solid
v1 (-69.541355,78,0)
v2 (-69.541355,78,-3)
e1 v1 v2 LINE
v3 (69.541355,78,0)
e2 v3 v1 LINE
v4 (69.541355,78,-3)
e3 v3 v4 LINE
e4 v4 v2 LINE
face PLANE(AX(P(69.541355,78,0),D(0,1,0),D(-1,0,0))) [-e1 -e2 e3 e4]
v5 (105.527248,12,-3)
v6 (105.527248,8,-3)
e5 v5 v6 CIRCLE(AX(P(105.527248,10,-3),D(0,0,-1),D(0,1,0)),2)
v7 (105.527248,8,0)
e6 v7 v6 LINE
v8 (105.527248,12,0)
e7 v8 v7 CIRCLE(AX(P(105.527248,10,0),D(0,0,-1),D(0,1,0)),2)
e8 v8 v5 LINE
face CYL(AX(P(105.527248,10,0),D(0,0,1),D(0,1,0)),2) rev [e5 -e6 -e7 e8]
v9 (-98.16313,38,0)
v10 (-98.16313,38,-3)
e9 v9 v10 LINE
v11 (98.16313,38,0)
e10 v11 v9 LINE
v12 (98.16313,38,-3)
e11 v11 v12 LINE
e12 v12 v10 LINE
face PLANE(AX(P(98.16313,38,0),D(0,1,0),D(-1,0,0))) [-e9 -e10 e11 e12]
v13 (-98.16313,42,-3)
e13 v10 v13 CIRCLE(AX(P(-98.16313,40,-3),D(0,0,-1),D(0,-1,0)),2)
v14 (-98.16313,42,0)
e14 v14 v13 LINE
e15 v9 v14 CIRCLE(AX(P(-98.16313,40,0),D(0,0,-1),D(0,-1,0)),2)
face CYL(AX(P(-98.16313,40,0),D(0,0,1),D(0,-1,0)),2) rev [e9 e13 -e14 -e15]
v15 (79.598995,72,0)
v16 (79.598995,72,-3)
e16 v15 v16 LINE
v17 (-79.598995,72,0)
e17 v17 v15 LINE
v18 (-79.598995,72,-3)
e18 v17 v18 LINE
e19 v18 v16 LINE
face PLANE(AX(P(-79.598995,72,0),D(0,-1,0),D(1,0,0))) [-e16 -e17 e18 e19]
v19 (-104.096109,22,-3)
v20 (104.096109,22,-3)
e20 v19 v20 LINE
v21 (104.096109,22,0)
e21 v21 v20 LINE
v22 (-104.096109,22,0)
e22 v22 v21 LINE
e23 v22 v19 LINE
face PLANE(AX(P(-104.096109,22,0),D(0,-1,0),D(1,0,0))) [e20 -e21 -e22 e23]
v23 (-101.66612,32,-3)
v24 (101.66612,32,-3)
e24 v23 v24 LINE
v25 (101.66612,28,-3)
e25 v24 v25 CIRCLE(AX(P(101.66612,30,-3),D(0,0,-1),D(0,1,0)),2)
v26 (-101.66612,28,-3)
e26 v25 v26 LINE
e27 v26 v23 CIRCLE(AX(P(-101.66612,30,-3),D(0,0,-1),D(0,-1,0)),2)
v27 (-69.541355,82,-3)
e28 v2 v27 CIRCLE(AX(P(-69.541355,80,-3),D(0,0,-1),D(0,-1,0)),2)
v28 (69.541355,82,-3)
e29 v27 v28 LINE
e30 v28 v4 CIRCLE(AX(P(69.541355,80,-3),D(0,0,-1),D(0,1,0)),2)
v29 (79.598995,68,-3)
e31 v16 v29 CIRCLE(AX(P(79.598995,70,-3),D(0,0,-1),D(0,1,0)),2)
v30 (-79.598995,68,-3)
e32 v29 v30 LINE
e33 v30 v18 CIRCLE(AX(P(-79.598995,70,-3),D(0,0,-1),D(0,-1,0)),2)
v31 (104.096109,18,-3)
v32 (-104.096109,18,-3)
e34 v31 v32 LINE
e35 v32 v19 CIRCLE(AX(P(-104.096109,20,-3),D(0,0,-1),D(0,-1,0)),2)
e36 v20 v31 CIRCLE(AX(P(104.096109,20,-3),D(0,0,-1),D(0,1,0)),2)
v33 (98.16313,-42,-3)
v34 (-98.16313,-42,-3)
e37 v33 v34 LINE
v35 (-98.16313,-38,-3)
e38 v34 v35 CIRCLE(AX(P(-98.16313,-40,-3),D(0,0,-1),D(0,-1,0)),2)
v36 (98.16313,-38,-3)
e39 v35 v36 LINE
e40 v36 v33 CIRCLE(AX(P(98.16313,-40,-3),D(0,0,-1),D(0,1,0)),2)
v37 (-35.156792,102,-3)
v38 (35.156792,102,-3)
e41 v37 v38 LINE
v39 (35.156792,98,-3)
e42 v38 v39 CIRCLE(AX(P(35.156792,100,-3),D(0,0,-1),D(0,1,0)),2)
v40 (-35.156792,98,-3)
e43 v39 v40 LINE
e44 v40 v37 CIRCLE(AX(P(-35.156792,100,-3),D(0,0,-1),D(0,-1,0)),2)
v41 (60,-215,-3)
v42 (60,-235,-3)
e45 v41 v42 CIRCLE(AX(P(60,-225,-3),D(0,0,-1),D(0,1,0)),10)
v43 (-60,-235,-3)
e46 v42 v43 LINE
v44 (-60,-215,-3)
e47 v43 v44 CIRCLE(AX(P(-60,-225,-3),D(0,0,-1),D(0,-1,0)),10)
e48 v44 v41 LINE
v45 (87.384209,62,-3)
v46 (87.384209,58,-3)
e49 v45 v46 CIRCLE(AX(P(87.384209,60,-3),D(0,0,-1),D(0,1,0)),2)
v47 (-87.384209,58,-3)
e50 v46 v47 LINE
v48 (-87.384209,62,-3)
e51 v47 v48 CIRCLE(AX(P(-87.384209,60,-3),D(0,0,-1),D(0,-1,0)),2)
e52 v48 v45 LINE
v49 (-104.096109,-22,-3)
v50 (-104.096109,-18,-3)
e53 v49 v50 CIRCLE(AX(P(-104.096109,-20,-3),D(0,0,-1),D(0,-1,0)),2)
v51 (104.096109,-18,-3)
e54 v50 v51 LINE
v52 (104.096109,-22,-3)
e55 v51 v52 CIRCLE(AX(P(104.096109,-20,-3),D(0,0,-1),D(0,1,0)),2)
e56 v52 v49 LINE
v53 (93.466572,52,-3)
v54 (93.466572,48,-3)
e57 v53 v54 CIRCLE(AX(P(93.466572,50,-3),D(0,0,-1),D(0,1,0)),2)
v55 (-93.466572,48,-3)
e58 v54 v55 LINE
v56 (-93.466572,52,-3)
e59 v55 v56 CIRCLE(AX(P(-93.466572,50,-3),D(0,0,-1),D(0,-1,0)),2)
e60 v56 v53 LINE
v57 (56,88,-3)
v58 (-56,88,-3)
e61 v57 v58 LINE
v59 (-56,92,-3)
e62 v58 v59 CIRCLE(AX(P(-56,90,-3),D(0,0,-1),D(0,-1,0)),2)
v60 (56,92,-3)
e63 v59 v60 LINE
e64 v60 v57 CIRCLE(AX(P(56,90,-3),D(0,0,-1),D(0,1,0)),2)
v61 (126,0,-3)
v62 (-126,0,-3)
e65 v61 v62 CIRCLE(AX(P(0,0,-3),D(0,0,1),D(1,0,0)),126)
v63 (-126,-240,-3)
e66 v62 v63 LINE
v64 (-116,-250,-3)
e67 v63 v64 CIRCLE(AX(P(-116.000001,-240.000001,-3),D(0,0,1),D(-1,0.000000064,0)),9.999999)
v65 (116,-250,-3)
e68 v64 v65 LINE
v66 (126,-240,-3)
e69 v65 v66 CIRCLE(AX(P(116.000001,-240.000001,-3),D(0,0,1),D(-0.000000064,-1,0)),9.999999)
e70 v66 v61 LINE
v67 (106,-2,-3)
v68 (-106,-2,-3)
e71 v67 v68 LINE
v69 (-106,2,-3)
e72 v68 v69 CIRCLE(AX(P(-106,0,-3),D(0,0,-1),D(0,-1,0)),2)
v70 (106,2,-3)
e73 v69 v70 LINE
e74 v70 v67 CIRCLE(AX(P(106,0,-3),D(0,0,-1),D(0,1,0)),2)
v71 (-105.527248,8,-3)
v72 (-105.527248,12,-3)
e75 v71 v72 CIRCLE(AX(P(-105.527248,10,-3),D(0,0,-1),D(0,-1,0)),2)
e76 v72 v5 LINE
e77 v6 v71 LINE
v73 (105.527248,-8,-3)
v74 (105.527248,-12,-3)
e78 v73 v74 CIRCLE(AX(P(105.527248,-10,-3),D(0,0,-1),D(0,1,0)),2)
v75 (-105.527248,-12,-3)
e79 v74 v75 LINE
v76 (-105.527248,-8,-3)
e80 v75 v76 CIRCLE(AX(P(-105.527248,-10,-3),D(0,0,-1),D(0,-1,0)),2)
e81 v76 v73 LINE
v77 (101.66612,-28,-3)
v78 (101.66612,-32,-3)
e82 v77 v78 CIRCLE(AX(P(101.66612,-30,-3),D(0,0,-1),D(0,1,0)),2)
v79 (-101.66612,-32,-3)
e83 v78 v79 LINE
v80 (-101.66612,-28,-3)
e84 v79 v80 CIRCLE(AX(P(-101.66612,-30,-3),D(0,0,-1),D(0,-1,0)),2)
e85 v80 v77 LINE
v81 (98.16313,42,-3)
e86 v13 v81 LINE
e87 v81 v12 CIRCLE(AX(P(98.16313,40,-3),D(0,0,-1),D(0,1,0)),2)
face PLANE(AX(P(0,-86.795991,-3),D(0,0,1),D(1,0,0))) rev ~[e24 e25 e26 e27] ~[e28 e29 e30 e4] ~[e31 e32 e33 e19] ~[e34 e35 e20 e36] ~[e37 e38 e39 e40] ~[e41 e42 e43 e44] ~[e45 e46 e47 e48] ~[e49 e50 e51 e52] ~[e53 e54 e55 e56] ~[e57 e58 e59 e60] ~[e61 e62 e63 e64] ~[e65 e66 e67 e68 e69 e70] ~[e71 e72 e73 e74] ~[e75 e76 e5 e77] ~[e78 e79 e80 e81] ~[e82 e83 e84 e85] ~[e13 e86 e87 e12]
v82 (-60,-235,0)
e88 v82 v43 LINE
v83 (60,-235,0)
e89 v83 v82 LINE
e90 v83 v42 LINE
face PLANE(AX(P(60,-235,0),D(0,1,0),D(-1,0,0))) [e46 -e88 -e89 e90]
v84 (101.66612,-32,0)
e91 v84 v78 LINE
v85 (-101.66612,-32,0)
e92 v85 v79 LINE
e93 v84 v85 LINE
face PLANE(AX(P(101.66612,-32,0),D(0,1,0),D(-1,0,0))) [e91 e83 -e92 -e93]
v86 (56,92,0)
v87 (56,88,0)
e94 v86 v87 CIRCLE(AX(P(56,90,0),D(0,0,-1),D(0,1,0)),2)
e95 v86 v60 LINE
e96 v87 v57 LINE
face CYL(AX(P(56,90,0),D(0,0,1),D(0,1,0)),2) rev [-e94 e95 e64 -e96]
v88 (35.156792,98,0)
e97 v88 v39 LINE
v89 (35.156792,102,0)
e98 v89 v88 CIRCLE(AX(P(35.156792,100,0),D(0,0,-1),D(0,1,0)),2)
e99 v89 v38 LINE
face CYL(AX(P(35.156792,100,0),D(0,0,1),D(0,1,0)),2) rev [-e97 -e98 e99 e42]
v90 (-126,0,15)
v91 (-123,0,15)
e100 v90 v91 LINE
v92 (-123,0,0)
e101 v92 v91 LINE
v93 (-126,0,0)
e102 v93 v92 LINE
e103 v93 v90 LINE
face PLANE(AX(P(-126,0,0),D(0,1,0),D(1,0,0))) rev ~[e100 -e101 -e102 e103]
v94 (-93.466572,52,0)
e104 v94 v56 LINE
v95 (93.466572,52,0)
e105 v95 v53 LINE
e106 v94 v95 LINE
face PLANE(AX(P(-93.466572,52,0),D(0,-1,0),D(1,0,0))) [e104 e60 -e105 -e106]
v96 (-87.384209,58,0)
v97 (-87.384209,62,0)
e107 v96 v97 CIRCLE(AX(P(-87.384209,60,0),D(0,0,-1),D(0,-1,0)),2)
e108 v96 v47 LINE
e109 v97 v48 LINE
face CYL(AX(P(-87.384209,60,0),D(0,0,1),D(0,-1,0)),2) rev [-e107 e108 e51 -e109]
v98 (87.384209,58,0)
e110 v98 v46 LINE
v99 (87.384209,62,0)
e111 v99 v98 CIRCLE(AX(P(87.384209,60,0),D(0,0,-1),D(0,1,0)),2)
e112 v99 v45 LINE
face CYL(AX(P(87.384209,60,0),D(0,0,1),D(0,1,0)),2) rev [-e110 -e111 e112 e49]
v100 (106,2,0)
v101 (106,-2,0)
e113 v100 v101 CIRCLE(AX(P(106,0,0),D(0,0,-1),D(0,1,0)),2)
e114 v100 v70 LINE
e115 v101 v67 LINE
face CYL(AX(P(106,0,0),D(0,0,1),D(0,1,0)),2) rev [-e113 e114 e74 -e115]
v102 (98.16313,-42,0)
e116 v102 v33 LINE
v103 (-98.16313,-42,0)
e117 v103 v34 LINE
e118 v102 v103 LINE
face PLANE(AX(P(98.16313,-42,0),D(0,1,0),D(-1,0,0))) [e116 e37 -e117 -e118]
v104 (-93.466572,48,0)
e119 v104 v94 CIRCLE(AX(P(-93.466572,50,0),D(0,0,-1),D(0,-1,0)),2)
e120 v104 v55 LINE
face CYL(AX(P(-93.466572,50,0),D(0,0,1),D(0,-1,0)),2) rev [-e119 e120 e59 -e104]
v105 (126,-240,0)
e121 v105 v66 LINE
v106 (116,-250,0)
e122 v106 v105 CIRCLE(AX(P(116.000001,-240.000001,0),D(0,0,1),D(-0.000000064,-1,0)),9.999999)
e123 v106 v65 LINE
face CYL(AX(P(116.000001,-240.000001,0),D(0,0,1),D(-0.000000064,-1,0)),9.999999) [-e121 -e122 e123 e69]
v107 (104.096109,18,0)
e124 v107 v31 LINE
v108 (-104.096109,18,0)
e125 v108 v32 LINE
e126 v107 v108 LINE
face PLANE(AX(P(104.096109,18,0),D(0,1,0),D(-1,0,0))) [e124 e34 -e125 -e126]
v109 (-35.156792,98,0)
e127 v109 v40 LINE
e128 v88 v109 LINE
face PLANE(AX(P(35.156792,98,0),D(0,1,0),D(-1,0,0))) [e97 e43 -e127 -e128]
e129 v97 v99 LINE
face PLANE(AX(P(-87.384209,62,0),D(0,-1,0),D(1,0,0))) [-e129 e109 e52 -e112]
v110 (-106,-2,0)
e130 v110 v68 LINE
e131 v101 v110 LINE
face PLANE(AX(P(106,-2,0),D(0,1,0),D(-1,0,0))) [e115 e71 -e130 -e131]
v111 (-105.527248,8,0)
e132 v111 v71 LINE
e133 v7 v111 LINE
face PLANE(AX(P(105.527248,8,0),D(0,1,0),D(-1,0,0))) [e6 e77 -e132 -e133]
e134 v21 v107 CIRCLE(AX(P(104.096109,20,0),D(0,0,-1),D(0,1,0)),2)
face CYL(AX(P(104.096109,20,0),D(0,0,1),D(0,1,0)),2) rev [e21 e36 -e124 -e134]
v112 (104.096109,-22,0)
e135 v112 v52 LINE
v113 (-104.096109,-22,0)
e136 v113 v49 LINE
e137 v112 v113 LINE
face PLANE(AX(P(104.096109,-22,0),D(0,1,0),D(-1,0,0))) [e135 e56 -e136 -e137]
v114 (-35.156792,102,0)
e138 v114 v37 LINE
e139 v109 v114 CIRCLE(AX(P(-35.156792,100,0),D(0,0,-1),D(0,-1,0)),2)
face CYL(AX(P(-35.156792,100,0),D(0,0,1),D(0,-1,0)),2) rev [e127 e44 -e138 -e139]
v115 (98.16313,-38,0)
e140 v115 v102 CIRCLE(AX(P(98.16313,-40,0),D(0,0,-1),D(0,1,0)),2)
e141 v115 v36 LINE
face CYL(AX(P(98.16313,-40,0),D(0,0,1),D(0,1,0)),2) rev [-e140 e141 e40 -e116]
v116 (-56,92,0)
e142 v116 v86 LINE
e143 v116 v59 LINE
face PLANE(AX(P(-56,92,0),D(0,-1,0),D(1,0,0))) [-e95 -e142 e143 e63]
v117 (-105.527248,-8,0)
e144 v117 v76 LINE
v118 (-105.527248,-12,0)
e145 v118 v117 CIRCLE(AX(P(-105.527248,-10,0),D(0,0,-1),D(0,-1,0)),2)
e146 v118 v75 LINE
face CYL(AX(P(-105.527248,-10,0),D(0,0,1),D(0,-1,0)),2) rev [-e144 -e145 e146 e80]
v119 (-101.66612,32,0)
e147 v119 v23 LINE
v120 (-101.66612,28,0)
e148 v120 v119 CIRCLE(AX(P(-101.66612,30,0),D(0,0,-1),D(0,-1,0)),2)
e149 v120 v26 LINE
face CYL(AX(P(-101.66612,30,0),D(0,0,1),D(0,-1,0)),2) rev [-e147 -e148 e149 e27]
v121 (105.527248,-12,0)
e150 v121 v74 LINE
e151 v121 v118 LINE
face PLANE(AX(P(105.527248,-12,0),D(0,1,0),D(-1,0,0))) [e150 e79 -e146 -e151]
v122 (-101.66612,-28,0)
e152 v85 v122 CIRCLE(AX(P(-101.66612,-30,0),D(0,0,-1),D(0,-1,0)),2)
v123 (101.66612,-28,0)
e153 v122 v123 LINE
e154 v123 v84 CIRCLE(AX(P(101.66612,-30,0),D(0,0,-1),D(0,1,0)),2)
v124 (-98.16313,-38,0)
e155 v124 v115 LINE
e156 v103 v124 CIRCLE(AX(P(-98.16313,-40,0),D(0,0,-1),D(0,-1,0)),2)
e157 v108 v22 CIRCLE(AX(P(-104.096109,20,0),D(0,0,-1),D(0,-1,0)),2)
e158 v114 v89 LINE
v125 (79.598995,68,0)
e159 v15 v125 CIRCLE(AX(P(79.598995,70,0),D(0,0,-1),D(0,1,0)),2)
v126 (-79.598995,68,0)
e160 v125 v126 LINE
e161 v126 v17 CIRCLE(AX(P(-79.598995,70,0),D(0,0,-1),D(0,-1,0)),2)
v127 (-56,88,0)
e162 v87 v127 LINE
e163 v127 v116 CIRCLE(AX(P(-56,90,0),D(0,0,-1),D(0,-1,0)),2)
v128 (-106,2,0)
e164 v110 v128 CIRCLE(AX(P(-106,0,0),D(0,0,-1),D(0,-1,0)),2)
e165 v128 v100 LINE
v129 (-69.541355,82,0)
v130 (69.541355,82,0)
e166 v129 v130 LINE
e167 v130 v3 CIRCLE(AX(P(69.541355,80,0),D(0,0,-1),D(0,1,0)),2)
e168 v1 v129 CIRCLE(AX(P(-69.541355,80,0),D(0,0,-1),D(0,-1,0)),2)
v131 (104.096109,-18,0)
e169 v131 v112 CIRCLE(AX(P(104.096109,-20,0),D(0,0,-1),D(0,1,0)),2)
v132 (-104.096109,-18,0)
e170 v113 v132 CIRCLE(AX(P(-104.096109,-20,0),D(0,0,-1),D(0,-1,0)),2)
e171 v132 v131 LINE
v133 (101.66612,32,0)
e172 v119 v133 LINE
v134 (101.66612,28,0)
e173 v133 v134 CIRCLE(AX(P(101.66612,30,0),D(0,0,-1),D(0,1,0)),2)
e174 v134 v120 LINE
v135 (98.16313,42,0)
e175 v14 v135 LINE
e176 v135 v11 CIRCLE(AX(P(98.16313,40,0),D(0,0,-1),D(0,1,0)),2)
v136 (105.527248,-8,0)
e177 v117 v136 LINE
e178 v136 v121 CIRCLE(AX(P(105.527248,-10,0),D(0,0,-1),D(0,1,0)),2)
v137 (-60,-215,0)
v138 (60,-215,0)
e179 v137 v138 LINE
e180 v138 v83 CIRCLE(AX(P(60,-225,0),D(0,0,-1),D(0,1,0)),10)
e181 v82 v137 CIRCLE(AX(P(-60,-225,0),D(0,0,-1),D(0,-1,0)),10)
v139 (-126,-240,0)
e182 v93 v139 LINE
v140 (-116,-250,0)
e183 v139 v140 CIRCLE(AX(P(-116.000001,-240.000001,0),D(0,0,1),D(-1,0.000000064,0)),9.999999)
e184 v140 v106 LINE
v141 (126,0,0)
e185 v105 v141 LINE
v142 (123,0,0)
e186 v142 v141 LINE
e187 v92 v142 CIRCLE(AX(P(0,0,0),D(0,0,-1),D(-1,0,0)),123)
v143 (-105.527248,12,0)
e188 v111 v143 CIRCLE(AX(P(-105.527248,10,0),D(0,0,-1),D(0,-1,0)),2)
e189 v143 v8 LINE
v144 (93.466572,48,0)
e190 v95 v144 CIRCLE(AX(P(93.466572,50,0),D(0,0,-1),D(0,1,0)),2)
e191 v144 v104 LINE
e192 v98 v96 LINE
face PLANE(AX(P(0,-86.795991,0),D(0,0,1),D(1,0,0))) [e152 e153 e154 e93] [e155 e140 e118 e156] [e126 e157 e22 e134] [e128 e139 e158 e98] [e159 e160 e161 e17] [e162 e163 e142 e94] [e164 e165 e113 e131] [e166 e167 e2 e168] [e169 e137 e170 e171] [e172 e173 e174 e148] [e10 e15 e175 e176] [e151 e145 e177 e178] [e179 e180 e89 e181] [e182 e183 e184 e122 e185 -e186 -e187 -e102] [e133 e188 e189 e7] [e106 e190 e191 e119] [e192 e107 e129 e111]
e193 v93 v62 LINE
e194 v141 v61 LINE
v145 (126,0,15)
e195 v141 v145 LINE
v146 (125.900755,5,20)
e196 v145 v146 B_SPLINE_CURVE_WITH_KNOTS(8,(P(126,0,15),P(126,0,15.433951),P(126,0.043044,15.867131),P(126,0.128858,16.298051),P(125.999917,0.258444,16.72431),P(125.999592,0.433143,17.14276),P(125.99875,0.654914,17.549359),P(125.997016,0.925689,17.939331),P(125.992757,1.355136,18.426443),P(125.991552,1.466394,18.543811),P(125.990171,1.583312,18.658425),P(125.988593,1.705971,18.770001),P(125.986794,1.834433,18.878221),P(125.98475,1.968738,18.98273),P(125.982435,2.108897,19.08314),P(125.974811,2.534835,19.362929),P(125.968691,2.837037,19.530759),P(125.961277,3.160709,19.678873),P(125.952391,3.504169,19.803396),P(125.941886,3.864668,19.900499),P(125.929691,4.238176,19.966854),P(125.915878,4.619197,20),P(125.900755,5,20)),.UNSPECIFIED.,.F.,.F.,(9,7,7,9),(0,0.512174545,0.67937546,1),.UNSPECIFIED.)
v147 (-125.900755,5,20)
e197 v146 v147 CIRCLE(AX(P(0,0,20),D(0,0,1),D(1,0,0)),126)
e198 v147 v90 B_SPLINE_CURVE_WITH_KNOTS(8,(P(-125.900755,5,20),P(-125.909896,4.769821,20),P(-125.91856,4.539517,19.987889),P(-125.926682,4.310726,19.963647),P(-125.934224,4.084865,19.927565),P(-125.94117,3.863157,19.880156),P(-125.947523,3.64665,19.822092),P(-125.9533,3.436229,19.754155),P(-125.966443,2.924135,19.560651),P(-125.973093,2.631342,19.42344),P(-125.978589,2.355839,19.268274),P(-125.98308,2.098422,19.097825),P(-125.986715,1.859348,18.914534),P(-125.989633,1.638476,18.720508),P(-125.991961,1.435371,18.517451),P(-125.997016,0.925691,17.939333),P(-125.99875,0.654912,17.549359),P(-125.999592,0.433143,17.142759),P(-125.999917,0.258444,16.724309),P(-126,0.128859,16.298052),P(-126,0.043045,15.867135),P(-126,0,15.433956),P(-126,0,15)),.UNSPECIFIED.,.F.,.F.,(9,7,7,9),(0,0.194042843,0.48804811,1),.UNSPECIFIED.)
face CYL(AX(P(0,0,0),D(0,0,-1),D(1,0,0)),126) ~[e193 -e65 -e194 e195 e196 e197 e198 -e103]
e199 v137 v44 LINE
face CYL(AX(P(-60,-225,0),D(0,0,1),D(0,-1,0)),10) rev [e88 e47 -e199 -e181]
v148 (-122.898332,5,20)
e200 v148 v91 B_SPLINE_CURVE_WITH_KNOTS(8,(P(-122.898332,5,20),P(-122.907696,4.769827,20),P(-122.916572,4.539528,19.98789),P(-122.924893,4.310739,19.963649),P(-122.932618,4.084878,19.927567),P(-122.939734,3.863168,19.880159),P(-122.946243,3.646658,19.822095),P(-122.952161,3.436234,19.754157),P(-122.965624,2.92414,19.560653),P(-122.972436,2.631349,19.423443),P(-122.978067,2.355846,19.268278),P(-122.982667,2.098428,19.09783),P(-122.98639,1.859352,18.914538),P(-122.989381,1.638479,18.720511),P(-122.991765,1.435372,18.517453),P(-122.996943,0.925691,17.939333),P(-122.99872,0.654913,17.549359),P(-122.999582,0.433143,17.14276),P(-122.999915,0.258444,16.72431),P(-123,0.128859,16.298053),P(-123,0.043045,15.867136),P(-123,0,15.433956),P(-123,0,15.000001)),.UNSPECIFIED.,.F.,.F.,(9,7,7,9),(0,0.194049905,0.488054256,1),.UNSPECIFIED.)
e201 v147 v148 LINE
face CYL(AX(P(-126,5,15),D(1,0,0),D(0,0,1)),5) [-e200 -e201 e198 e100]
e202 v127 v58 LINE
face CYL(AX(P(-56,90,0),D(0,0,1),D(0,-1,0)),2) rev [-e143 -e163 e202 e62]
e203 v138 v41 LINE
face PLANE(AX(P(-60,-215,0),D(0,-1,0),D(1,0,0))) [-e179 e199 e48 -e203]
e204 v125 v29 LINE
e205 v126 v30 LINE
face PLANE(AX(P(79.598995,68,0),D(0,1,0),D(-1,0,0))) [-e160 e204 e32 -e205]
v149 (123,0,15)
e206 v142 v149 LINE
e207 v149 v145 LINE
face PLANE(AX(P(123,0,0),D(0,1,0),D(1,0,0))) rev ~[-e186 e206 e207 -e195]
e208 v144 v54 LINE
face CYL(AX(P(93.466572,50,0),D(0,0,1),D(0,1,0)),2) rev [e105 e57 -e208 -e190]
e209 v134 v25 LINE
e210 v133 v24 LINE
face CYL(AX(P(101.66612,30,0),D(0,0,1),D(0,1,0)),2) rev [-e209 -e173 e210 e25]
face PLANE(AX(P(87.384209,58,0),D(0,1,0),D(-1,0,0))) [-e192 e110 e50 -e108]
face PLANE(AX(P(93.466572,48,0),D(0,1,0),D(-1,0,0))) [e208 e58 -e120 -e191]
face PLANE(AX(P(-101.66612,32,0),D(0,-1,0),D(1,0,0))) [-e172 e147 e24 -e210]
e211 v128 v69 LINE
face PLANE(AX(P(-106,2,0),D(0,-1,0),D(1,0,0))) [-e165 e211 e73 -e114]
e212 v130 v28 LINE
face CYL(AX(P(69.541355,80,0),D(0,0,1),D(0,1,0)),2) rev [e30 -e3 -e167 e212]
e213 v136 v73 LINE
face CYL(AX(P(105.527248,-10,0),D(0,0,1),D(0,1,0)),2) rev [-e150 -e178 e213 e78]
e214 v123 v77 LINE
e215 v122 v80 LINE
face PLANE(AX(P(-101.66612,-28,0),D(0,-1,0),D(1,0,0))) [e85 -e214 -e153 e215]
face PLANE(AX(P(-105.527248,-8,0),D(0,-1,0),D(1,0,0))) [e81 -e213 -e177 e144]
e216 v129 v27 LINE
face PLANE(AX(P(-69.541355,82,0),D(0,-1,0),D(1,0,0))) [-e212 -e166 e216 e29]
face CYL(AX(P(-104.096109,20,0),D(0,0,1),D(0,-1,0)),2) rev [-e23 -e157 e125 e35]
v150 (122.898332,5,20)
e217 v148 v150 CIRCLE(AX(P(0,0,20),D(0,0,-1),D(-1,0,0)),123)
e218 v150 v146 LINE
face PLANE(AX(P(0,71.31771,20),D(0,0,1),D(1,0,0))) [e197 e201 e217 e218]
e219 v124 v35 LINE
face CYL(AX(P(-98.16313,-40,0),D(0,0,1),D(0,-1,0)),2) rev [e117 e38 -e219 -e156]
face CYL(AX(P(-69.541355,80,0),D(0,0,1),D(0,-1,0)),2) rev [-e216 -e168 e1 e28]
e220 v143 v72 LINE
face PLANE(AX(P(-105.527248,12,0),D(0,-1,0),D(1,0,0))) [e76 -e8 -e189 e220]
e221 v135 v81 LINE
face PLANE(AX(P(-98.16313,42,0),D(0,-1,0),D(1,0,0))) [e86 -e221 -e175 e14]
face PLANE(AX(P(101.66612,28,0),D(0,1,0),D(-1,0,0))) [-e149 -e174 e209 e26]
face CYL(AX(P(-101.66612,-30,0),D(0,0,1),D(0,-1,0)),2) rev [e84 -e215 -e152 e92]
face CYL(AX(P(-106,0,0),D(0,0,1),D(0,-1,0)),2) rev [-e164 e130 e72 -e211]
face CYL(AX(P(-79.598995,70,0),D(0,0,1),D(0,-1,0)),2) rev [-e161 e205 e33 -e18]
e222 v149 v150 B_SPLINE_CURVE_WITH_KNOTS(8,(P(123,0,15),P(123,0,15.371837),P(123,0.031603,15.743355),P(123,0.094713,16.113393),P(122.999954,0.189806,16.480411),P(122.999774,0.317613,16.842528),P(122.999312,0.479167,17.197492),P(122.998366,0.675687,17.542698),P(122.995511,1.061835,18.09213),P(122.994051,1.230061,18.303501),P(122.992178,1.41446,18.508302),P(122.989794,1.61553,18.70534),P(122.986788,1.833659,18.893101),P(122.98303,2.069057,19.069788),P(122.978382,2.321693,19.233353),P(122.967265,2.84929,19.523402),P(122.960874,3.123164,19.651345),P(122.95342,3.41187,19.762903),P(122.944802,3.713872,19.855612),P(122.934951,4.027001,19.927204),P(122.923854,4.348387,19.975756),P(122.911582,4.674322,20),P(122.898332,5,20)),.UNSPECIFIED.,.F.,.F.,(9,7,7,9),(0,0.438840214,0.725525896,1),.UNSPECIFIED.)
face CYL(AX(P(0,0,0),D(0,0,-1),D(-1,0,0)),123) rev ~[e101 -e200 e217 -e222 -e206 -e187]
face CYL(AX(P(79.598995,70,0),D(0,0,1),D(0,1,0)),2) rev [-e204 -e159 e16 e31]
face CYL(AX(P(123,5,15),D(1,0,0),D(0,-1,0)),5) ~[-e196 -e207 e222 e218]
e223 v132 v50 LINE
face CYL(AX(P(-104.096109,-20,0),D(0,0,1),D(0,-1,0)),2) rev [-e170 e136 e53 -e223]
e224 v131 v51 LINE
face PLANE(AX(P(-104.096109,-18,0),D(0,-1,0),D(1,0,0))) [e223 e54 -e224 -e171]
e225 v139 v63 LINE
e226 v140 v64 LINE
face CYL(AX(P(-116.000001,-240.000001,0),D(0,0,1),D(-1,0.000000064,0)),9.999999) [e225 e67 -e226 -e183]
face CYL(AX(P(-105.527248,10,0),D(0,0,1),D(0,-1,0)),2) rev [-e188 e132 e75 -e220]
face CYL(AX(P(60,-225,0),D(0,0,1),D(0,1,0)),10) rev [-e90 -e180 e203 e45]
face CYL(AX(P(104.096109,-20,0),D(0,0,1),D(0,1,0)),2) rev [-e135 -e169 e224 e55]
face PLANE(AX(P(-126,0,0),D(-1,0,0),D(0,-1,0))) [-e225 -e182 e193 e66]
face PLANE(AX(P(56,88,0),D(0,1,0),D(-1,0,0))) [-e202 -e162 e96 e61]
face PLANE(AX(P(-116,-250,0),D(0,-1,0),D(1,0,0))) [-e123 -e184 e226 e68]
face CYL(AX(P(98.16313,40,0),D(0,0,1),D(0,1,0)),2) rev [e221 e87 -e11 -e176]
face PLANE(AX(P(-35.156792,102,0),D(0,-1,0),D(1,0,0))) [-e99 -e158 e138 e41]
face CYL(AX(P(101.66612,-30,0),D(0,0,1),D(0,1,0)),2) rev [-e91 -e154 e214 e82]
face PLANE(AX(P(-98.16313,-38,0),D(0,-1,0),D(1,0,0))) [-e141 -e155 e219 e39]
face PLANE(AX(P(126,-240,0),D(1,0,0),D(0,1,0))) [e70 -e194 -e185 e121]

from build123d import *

# Parameters (mm, degrees)
F1_DEPTH = 3
F2_DEPTH = 20
F3_R     = 5


with BuildPart() as f1:
    # F0 (on Top) → F1 (new body)
    with BuildSketch(Plane.XY):
        with BuildLine():
            Line((126, -240), (126, 0))
            Line((126, 0), (123, 0))
            ThreePointArc((123, 0), (0, 123), (-123, 0))
            Line((-123, 0), (-126, 0))
            Line((-126, 0), (-126, -240))
            ThreePointArc((-126, -240), (-123.071068, -247.071068), (-116, -250))
            Line((-116, -250), (116, -250))
            ThreePointArc((116, -250), (123.071068, -247.071068), (126, -240))
        make_face()
        with BuildLine():
            Line((60, -235), (-60, -235))
            ThreePointArc((-60, -235), (-70, -225), (-60, -215))
            Line((-60, -215), (60, -215))
            ThreePointArc((60, -215), (70, -225), (60, -235))
        make_face(mode=Mode.SUBTRACT)
        with BuildLine():
            ThreePointArc((98.16313, -38), (100.16313, -40), (98.16313, -42))
            Line((98.16313, -42), (-98.16313, -42))
            ThreePointArc((-98.16313, -42), (-100.16313, -40), (-98.16313, -38))
            Line((-98.16313, -38), (98.16313, -38))
        make_face(mode=Mode.SUBTRACT)
        with BuildLine():
            ThreePointArc((-101.66612, -32), (-103.66612, -30), (-101.66612, -28))
            Line((-101.66612, -28), (101.66612, -28))
            ThreePointArc((101.66612, -28), (103.66612, -30), (101.66612, -32))
            Line((101.66612, -32), (-101.66612, -32))
        make_face(mode=Mode.SUBTRACT)
        with BuildLine():
            ThreePointArc((104.096109, -18), (106.096109, -20), (104.096109, -22))
            Line((104.096109, -22), (-104.096109, -22))
            ThreePointArc((-104.096109, -22), (-106.096109, -20), (-104.096109, -18))
            Line((-104.096109, -18), (104.096109, -18))
        make_face(mode=Mode.SUBTRACT)
        with BuildLine():
            ThreePointArc((-105.527248, -12), (-107.527248, -10), (-105.527248, -8))
            Line((-105.527248, -8), (105.527248, -8))
            ThreePointArc((105.527248, -8), (107.527248, -10), (105.527248, -12))
            Line((105.527248, -12), (-105.527248, -12))
        make_face(mode=Mode.SUBTRACT)
        with BuildLine():
            Line((106, -2), (-106, -2))
            ThreePointArc((-106, -2), (-108, 0), (-106, 2))
            Line((-106, 2), (106, 2))
            ThreePointArc((106, 2), (108, 0), (106, -2))
        make_face(mode=Mode.SUBTRACT)
        with BuildLine():
            Line((105.527248, 8), (-105.527248, 8))
            ThreePointArc((-105.527248, 8), (-107.527248, 10), (-105.527248, 12))
            Line((-105.527248, 12), (105.527248, 12))
            ThreePointArc((105.527248, 12), (107.527248, 10), (105.527248, 8))
        make_face(mode=Mode.SUBTRACT)
        with BuildLine():
            Line((104.096109, 18), (-104.096109, 18))
            ThreePointArc((-104.096109, 18), (-106.096109, 20), (-104.096109, 22))
            Line((-104.096109, 22), (104.096109, 22))
            ThreePointArc((104.096109, 22), (106.096109, 20), (104.096109, 18))
        make_face(mode=Mode.SUBTRACT)
        with BuildLine():
            Line((101.66612, 28), (-101.66612, 28))
            ThreePointArc((-101.66612, 28), (-103.66612, 30), (-101.66612, 32))
            Line((-101.66612, 32), (101.66612, 32))
            ThreePointArc((101.66612, 32), (103.66612, 30), (101.66612, 28))
        make_face(mode=Mode.SUBTRACT)
        with BuildLine():
            Line((98.16313, 38), (-98.16313, 38))
            ThreePointArc((-98.16313, 38), (-100.16313, 40), (-98.16313, 42))
            Line((-98.16313, 42), (98.16313, 42))
            ThreePointArc((98.16313, 42), (100.16313, 40), (98.16313, 38))
        make_face(mode=Mode.SUBTRACT)
        with BuildLine():
            Line((93.466572, 48), (-93.466572, 48))
            ThreePointArc((-93.466572, 48), (-95.466572, 50), (-93.466572, 52))
            Line((-93.466572, 52), (93.466572, 52))
            ThreePointArc((93.466572, 52), (95.466572, 50), (93.466572, 48))
        make_face(mode=Mode.SUBTRACT)
        with BuildLine():
            Line((87.384209, 58), (-87.384209, 58))
            ThreePointArc((-87.384209, 58), (-89.384209, 60), (-87.384209, 62))
            Line((-87.384209, 62), (87.384209, 62))
            ThreePointArc((87.384209, 62), (89.384209, 60), (87.384209, 58))
        make_face(mode=Mode.SUBTRACT)
        with BuildLine():
            Line((79.598995, 68), (-79.598995, 68))
            ThreePointArc((-79.598995, 68), (-81.598995, 70), (-79.598995, 72))
            Line((-79.598995, 72), (79.598995, 72))
            ThreePointArc((79.598995, 72), (81.598995, 70), (79.598995, 68))
        make_face(mode=Mode.SUBTRACT)
        with BuildLine():
            Line((69.541355, 78), (-69.541355, 78))
            ThreePointArc((-69.541355, 78), (-71.541355, 80), (-69.541355, 82))
            Line((-69.541355, 82), (69.541355, 82))
            ThreePointArc((69.541355, 82), (71.541355, 80), (69.541355, 78))
        make_face(mode=Mode.SUBTRACT)
        with BuildLine():
            Line((56, 88), (-56, 88))
            ThreePointArc((-56, 88), (-58, 90), (-56, 92))
            Line((-56, 92), (56, 92))
            ThreePointArc((56, 92), (58, 90), (56, 88))
        make_face(mode=Mode.SUBTRACT)
        with BuildLine():
            Line((35.156792, 98), (-35.156792, 98))
            ThreePointArc((-35.156792, 98), (-37.156792, 100), (-35.156792, 102))
            Line((-35.156792, 102), (35.156792, 102))
            ThreePointArc((35.156792, 102), (37.156792, 100), (35.156792, 98))
        make_face(mode=Mode.SUBTRACT)
        with BuildLine():
            Line((123, 0), (126, 0))
            ThreePointArc((126, 0), (0, 126), (-126, 0))
            Line((-126, 0), (-123, 0))
            ThreePointArc((-123, 0), (0, 123), (123, 0))
        make_face()
    extrude(amount=-F1_DEPTH)

    # F0 (on Top) → F2 (join)
    with BuildSketch(Plane.XY):
        with BuildLine():
            Line((123, 0), (126, 0))
            ThreePointArc((126, 0), (0, 126), (-126, 0))
            Line((-126, 0), (-123, 0))
            ThreePointArc((-123, 0), (0, 123), (123, 0))
        make_face()
    extrude(amount=F2_DEPTH)

    # F3
    f3_edges = [f1.edges().sort_by_distance(p)[0] for p in [
        (-124.5, 0, 20),
        (124.5, 0, 20),
    ]]
    fillet(f3_edges, radius=F3_R)


solid = f1.part
